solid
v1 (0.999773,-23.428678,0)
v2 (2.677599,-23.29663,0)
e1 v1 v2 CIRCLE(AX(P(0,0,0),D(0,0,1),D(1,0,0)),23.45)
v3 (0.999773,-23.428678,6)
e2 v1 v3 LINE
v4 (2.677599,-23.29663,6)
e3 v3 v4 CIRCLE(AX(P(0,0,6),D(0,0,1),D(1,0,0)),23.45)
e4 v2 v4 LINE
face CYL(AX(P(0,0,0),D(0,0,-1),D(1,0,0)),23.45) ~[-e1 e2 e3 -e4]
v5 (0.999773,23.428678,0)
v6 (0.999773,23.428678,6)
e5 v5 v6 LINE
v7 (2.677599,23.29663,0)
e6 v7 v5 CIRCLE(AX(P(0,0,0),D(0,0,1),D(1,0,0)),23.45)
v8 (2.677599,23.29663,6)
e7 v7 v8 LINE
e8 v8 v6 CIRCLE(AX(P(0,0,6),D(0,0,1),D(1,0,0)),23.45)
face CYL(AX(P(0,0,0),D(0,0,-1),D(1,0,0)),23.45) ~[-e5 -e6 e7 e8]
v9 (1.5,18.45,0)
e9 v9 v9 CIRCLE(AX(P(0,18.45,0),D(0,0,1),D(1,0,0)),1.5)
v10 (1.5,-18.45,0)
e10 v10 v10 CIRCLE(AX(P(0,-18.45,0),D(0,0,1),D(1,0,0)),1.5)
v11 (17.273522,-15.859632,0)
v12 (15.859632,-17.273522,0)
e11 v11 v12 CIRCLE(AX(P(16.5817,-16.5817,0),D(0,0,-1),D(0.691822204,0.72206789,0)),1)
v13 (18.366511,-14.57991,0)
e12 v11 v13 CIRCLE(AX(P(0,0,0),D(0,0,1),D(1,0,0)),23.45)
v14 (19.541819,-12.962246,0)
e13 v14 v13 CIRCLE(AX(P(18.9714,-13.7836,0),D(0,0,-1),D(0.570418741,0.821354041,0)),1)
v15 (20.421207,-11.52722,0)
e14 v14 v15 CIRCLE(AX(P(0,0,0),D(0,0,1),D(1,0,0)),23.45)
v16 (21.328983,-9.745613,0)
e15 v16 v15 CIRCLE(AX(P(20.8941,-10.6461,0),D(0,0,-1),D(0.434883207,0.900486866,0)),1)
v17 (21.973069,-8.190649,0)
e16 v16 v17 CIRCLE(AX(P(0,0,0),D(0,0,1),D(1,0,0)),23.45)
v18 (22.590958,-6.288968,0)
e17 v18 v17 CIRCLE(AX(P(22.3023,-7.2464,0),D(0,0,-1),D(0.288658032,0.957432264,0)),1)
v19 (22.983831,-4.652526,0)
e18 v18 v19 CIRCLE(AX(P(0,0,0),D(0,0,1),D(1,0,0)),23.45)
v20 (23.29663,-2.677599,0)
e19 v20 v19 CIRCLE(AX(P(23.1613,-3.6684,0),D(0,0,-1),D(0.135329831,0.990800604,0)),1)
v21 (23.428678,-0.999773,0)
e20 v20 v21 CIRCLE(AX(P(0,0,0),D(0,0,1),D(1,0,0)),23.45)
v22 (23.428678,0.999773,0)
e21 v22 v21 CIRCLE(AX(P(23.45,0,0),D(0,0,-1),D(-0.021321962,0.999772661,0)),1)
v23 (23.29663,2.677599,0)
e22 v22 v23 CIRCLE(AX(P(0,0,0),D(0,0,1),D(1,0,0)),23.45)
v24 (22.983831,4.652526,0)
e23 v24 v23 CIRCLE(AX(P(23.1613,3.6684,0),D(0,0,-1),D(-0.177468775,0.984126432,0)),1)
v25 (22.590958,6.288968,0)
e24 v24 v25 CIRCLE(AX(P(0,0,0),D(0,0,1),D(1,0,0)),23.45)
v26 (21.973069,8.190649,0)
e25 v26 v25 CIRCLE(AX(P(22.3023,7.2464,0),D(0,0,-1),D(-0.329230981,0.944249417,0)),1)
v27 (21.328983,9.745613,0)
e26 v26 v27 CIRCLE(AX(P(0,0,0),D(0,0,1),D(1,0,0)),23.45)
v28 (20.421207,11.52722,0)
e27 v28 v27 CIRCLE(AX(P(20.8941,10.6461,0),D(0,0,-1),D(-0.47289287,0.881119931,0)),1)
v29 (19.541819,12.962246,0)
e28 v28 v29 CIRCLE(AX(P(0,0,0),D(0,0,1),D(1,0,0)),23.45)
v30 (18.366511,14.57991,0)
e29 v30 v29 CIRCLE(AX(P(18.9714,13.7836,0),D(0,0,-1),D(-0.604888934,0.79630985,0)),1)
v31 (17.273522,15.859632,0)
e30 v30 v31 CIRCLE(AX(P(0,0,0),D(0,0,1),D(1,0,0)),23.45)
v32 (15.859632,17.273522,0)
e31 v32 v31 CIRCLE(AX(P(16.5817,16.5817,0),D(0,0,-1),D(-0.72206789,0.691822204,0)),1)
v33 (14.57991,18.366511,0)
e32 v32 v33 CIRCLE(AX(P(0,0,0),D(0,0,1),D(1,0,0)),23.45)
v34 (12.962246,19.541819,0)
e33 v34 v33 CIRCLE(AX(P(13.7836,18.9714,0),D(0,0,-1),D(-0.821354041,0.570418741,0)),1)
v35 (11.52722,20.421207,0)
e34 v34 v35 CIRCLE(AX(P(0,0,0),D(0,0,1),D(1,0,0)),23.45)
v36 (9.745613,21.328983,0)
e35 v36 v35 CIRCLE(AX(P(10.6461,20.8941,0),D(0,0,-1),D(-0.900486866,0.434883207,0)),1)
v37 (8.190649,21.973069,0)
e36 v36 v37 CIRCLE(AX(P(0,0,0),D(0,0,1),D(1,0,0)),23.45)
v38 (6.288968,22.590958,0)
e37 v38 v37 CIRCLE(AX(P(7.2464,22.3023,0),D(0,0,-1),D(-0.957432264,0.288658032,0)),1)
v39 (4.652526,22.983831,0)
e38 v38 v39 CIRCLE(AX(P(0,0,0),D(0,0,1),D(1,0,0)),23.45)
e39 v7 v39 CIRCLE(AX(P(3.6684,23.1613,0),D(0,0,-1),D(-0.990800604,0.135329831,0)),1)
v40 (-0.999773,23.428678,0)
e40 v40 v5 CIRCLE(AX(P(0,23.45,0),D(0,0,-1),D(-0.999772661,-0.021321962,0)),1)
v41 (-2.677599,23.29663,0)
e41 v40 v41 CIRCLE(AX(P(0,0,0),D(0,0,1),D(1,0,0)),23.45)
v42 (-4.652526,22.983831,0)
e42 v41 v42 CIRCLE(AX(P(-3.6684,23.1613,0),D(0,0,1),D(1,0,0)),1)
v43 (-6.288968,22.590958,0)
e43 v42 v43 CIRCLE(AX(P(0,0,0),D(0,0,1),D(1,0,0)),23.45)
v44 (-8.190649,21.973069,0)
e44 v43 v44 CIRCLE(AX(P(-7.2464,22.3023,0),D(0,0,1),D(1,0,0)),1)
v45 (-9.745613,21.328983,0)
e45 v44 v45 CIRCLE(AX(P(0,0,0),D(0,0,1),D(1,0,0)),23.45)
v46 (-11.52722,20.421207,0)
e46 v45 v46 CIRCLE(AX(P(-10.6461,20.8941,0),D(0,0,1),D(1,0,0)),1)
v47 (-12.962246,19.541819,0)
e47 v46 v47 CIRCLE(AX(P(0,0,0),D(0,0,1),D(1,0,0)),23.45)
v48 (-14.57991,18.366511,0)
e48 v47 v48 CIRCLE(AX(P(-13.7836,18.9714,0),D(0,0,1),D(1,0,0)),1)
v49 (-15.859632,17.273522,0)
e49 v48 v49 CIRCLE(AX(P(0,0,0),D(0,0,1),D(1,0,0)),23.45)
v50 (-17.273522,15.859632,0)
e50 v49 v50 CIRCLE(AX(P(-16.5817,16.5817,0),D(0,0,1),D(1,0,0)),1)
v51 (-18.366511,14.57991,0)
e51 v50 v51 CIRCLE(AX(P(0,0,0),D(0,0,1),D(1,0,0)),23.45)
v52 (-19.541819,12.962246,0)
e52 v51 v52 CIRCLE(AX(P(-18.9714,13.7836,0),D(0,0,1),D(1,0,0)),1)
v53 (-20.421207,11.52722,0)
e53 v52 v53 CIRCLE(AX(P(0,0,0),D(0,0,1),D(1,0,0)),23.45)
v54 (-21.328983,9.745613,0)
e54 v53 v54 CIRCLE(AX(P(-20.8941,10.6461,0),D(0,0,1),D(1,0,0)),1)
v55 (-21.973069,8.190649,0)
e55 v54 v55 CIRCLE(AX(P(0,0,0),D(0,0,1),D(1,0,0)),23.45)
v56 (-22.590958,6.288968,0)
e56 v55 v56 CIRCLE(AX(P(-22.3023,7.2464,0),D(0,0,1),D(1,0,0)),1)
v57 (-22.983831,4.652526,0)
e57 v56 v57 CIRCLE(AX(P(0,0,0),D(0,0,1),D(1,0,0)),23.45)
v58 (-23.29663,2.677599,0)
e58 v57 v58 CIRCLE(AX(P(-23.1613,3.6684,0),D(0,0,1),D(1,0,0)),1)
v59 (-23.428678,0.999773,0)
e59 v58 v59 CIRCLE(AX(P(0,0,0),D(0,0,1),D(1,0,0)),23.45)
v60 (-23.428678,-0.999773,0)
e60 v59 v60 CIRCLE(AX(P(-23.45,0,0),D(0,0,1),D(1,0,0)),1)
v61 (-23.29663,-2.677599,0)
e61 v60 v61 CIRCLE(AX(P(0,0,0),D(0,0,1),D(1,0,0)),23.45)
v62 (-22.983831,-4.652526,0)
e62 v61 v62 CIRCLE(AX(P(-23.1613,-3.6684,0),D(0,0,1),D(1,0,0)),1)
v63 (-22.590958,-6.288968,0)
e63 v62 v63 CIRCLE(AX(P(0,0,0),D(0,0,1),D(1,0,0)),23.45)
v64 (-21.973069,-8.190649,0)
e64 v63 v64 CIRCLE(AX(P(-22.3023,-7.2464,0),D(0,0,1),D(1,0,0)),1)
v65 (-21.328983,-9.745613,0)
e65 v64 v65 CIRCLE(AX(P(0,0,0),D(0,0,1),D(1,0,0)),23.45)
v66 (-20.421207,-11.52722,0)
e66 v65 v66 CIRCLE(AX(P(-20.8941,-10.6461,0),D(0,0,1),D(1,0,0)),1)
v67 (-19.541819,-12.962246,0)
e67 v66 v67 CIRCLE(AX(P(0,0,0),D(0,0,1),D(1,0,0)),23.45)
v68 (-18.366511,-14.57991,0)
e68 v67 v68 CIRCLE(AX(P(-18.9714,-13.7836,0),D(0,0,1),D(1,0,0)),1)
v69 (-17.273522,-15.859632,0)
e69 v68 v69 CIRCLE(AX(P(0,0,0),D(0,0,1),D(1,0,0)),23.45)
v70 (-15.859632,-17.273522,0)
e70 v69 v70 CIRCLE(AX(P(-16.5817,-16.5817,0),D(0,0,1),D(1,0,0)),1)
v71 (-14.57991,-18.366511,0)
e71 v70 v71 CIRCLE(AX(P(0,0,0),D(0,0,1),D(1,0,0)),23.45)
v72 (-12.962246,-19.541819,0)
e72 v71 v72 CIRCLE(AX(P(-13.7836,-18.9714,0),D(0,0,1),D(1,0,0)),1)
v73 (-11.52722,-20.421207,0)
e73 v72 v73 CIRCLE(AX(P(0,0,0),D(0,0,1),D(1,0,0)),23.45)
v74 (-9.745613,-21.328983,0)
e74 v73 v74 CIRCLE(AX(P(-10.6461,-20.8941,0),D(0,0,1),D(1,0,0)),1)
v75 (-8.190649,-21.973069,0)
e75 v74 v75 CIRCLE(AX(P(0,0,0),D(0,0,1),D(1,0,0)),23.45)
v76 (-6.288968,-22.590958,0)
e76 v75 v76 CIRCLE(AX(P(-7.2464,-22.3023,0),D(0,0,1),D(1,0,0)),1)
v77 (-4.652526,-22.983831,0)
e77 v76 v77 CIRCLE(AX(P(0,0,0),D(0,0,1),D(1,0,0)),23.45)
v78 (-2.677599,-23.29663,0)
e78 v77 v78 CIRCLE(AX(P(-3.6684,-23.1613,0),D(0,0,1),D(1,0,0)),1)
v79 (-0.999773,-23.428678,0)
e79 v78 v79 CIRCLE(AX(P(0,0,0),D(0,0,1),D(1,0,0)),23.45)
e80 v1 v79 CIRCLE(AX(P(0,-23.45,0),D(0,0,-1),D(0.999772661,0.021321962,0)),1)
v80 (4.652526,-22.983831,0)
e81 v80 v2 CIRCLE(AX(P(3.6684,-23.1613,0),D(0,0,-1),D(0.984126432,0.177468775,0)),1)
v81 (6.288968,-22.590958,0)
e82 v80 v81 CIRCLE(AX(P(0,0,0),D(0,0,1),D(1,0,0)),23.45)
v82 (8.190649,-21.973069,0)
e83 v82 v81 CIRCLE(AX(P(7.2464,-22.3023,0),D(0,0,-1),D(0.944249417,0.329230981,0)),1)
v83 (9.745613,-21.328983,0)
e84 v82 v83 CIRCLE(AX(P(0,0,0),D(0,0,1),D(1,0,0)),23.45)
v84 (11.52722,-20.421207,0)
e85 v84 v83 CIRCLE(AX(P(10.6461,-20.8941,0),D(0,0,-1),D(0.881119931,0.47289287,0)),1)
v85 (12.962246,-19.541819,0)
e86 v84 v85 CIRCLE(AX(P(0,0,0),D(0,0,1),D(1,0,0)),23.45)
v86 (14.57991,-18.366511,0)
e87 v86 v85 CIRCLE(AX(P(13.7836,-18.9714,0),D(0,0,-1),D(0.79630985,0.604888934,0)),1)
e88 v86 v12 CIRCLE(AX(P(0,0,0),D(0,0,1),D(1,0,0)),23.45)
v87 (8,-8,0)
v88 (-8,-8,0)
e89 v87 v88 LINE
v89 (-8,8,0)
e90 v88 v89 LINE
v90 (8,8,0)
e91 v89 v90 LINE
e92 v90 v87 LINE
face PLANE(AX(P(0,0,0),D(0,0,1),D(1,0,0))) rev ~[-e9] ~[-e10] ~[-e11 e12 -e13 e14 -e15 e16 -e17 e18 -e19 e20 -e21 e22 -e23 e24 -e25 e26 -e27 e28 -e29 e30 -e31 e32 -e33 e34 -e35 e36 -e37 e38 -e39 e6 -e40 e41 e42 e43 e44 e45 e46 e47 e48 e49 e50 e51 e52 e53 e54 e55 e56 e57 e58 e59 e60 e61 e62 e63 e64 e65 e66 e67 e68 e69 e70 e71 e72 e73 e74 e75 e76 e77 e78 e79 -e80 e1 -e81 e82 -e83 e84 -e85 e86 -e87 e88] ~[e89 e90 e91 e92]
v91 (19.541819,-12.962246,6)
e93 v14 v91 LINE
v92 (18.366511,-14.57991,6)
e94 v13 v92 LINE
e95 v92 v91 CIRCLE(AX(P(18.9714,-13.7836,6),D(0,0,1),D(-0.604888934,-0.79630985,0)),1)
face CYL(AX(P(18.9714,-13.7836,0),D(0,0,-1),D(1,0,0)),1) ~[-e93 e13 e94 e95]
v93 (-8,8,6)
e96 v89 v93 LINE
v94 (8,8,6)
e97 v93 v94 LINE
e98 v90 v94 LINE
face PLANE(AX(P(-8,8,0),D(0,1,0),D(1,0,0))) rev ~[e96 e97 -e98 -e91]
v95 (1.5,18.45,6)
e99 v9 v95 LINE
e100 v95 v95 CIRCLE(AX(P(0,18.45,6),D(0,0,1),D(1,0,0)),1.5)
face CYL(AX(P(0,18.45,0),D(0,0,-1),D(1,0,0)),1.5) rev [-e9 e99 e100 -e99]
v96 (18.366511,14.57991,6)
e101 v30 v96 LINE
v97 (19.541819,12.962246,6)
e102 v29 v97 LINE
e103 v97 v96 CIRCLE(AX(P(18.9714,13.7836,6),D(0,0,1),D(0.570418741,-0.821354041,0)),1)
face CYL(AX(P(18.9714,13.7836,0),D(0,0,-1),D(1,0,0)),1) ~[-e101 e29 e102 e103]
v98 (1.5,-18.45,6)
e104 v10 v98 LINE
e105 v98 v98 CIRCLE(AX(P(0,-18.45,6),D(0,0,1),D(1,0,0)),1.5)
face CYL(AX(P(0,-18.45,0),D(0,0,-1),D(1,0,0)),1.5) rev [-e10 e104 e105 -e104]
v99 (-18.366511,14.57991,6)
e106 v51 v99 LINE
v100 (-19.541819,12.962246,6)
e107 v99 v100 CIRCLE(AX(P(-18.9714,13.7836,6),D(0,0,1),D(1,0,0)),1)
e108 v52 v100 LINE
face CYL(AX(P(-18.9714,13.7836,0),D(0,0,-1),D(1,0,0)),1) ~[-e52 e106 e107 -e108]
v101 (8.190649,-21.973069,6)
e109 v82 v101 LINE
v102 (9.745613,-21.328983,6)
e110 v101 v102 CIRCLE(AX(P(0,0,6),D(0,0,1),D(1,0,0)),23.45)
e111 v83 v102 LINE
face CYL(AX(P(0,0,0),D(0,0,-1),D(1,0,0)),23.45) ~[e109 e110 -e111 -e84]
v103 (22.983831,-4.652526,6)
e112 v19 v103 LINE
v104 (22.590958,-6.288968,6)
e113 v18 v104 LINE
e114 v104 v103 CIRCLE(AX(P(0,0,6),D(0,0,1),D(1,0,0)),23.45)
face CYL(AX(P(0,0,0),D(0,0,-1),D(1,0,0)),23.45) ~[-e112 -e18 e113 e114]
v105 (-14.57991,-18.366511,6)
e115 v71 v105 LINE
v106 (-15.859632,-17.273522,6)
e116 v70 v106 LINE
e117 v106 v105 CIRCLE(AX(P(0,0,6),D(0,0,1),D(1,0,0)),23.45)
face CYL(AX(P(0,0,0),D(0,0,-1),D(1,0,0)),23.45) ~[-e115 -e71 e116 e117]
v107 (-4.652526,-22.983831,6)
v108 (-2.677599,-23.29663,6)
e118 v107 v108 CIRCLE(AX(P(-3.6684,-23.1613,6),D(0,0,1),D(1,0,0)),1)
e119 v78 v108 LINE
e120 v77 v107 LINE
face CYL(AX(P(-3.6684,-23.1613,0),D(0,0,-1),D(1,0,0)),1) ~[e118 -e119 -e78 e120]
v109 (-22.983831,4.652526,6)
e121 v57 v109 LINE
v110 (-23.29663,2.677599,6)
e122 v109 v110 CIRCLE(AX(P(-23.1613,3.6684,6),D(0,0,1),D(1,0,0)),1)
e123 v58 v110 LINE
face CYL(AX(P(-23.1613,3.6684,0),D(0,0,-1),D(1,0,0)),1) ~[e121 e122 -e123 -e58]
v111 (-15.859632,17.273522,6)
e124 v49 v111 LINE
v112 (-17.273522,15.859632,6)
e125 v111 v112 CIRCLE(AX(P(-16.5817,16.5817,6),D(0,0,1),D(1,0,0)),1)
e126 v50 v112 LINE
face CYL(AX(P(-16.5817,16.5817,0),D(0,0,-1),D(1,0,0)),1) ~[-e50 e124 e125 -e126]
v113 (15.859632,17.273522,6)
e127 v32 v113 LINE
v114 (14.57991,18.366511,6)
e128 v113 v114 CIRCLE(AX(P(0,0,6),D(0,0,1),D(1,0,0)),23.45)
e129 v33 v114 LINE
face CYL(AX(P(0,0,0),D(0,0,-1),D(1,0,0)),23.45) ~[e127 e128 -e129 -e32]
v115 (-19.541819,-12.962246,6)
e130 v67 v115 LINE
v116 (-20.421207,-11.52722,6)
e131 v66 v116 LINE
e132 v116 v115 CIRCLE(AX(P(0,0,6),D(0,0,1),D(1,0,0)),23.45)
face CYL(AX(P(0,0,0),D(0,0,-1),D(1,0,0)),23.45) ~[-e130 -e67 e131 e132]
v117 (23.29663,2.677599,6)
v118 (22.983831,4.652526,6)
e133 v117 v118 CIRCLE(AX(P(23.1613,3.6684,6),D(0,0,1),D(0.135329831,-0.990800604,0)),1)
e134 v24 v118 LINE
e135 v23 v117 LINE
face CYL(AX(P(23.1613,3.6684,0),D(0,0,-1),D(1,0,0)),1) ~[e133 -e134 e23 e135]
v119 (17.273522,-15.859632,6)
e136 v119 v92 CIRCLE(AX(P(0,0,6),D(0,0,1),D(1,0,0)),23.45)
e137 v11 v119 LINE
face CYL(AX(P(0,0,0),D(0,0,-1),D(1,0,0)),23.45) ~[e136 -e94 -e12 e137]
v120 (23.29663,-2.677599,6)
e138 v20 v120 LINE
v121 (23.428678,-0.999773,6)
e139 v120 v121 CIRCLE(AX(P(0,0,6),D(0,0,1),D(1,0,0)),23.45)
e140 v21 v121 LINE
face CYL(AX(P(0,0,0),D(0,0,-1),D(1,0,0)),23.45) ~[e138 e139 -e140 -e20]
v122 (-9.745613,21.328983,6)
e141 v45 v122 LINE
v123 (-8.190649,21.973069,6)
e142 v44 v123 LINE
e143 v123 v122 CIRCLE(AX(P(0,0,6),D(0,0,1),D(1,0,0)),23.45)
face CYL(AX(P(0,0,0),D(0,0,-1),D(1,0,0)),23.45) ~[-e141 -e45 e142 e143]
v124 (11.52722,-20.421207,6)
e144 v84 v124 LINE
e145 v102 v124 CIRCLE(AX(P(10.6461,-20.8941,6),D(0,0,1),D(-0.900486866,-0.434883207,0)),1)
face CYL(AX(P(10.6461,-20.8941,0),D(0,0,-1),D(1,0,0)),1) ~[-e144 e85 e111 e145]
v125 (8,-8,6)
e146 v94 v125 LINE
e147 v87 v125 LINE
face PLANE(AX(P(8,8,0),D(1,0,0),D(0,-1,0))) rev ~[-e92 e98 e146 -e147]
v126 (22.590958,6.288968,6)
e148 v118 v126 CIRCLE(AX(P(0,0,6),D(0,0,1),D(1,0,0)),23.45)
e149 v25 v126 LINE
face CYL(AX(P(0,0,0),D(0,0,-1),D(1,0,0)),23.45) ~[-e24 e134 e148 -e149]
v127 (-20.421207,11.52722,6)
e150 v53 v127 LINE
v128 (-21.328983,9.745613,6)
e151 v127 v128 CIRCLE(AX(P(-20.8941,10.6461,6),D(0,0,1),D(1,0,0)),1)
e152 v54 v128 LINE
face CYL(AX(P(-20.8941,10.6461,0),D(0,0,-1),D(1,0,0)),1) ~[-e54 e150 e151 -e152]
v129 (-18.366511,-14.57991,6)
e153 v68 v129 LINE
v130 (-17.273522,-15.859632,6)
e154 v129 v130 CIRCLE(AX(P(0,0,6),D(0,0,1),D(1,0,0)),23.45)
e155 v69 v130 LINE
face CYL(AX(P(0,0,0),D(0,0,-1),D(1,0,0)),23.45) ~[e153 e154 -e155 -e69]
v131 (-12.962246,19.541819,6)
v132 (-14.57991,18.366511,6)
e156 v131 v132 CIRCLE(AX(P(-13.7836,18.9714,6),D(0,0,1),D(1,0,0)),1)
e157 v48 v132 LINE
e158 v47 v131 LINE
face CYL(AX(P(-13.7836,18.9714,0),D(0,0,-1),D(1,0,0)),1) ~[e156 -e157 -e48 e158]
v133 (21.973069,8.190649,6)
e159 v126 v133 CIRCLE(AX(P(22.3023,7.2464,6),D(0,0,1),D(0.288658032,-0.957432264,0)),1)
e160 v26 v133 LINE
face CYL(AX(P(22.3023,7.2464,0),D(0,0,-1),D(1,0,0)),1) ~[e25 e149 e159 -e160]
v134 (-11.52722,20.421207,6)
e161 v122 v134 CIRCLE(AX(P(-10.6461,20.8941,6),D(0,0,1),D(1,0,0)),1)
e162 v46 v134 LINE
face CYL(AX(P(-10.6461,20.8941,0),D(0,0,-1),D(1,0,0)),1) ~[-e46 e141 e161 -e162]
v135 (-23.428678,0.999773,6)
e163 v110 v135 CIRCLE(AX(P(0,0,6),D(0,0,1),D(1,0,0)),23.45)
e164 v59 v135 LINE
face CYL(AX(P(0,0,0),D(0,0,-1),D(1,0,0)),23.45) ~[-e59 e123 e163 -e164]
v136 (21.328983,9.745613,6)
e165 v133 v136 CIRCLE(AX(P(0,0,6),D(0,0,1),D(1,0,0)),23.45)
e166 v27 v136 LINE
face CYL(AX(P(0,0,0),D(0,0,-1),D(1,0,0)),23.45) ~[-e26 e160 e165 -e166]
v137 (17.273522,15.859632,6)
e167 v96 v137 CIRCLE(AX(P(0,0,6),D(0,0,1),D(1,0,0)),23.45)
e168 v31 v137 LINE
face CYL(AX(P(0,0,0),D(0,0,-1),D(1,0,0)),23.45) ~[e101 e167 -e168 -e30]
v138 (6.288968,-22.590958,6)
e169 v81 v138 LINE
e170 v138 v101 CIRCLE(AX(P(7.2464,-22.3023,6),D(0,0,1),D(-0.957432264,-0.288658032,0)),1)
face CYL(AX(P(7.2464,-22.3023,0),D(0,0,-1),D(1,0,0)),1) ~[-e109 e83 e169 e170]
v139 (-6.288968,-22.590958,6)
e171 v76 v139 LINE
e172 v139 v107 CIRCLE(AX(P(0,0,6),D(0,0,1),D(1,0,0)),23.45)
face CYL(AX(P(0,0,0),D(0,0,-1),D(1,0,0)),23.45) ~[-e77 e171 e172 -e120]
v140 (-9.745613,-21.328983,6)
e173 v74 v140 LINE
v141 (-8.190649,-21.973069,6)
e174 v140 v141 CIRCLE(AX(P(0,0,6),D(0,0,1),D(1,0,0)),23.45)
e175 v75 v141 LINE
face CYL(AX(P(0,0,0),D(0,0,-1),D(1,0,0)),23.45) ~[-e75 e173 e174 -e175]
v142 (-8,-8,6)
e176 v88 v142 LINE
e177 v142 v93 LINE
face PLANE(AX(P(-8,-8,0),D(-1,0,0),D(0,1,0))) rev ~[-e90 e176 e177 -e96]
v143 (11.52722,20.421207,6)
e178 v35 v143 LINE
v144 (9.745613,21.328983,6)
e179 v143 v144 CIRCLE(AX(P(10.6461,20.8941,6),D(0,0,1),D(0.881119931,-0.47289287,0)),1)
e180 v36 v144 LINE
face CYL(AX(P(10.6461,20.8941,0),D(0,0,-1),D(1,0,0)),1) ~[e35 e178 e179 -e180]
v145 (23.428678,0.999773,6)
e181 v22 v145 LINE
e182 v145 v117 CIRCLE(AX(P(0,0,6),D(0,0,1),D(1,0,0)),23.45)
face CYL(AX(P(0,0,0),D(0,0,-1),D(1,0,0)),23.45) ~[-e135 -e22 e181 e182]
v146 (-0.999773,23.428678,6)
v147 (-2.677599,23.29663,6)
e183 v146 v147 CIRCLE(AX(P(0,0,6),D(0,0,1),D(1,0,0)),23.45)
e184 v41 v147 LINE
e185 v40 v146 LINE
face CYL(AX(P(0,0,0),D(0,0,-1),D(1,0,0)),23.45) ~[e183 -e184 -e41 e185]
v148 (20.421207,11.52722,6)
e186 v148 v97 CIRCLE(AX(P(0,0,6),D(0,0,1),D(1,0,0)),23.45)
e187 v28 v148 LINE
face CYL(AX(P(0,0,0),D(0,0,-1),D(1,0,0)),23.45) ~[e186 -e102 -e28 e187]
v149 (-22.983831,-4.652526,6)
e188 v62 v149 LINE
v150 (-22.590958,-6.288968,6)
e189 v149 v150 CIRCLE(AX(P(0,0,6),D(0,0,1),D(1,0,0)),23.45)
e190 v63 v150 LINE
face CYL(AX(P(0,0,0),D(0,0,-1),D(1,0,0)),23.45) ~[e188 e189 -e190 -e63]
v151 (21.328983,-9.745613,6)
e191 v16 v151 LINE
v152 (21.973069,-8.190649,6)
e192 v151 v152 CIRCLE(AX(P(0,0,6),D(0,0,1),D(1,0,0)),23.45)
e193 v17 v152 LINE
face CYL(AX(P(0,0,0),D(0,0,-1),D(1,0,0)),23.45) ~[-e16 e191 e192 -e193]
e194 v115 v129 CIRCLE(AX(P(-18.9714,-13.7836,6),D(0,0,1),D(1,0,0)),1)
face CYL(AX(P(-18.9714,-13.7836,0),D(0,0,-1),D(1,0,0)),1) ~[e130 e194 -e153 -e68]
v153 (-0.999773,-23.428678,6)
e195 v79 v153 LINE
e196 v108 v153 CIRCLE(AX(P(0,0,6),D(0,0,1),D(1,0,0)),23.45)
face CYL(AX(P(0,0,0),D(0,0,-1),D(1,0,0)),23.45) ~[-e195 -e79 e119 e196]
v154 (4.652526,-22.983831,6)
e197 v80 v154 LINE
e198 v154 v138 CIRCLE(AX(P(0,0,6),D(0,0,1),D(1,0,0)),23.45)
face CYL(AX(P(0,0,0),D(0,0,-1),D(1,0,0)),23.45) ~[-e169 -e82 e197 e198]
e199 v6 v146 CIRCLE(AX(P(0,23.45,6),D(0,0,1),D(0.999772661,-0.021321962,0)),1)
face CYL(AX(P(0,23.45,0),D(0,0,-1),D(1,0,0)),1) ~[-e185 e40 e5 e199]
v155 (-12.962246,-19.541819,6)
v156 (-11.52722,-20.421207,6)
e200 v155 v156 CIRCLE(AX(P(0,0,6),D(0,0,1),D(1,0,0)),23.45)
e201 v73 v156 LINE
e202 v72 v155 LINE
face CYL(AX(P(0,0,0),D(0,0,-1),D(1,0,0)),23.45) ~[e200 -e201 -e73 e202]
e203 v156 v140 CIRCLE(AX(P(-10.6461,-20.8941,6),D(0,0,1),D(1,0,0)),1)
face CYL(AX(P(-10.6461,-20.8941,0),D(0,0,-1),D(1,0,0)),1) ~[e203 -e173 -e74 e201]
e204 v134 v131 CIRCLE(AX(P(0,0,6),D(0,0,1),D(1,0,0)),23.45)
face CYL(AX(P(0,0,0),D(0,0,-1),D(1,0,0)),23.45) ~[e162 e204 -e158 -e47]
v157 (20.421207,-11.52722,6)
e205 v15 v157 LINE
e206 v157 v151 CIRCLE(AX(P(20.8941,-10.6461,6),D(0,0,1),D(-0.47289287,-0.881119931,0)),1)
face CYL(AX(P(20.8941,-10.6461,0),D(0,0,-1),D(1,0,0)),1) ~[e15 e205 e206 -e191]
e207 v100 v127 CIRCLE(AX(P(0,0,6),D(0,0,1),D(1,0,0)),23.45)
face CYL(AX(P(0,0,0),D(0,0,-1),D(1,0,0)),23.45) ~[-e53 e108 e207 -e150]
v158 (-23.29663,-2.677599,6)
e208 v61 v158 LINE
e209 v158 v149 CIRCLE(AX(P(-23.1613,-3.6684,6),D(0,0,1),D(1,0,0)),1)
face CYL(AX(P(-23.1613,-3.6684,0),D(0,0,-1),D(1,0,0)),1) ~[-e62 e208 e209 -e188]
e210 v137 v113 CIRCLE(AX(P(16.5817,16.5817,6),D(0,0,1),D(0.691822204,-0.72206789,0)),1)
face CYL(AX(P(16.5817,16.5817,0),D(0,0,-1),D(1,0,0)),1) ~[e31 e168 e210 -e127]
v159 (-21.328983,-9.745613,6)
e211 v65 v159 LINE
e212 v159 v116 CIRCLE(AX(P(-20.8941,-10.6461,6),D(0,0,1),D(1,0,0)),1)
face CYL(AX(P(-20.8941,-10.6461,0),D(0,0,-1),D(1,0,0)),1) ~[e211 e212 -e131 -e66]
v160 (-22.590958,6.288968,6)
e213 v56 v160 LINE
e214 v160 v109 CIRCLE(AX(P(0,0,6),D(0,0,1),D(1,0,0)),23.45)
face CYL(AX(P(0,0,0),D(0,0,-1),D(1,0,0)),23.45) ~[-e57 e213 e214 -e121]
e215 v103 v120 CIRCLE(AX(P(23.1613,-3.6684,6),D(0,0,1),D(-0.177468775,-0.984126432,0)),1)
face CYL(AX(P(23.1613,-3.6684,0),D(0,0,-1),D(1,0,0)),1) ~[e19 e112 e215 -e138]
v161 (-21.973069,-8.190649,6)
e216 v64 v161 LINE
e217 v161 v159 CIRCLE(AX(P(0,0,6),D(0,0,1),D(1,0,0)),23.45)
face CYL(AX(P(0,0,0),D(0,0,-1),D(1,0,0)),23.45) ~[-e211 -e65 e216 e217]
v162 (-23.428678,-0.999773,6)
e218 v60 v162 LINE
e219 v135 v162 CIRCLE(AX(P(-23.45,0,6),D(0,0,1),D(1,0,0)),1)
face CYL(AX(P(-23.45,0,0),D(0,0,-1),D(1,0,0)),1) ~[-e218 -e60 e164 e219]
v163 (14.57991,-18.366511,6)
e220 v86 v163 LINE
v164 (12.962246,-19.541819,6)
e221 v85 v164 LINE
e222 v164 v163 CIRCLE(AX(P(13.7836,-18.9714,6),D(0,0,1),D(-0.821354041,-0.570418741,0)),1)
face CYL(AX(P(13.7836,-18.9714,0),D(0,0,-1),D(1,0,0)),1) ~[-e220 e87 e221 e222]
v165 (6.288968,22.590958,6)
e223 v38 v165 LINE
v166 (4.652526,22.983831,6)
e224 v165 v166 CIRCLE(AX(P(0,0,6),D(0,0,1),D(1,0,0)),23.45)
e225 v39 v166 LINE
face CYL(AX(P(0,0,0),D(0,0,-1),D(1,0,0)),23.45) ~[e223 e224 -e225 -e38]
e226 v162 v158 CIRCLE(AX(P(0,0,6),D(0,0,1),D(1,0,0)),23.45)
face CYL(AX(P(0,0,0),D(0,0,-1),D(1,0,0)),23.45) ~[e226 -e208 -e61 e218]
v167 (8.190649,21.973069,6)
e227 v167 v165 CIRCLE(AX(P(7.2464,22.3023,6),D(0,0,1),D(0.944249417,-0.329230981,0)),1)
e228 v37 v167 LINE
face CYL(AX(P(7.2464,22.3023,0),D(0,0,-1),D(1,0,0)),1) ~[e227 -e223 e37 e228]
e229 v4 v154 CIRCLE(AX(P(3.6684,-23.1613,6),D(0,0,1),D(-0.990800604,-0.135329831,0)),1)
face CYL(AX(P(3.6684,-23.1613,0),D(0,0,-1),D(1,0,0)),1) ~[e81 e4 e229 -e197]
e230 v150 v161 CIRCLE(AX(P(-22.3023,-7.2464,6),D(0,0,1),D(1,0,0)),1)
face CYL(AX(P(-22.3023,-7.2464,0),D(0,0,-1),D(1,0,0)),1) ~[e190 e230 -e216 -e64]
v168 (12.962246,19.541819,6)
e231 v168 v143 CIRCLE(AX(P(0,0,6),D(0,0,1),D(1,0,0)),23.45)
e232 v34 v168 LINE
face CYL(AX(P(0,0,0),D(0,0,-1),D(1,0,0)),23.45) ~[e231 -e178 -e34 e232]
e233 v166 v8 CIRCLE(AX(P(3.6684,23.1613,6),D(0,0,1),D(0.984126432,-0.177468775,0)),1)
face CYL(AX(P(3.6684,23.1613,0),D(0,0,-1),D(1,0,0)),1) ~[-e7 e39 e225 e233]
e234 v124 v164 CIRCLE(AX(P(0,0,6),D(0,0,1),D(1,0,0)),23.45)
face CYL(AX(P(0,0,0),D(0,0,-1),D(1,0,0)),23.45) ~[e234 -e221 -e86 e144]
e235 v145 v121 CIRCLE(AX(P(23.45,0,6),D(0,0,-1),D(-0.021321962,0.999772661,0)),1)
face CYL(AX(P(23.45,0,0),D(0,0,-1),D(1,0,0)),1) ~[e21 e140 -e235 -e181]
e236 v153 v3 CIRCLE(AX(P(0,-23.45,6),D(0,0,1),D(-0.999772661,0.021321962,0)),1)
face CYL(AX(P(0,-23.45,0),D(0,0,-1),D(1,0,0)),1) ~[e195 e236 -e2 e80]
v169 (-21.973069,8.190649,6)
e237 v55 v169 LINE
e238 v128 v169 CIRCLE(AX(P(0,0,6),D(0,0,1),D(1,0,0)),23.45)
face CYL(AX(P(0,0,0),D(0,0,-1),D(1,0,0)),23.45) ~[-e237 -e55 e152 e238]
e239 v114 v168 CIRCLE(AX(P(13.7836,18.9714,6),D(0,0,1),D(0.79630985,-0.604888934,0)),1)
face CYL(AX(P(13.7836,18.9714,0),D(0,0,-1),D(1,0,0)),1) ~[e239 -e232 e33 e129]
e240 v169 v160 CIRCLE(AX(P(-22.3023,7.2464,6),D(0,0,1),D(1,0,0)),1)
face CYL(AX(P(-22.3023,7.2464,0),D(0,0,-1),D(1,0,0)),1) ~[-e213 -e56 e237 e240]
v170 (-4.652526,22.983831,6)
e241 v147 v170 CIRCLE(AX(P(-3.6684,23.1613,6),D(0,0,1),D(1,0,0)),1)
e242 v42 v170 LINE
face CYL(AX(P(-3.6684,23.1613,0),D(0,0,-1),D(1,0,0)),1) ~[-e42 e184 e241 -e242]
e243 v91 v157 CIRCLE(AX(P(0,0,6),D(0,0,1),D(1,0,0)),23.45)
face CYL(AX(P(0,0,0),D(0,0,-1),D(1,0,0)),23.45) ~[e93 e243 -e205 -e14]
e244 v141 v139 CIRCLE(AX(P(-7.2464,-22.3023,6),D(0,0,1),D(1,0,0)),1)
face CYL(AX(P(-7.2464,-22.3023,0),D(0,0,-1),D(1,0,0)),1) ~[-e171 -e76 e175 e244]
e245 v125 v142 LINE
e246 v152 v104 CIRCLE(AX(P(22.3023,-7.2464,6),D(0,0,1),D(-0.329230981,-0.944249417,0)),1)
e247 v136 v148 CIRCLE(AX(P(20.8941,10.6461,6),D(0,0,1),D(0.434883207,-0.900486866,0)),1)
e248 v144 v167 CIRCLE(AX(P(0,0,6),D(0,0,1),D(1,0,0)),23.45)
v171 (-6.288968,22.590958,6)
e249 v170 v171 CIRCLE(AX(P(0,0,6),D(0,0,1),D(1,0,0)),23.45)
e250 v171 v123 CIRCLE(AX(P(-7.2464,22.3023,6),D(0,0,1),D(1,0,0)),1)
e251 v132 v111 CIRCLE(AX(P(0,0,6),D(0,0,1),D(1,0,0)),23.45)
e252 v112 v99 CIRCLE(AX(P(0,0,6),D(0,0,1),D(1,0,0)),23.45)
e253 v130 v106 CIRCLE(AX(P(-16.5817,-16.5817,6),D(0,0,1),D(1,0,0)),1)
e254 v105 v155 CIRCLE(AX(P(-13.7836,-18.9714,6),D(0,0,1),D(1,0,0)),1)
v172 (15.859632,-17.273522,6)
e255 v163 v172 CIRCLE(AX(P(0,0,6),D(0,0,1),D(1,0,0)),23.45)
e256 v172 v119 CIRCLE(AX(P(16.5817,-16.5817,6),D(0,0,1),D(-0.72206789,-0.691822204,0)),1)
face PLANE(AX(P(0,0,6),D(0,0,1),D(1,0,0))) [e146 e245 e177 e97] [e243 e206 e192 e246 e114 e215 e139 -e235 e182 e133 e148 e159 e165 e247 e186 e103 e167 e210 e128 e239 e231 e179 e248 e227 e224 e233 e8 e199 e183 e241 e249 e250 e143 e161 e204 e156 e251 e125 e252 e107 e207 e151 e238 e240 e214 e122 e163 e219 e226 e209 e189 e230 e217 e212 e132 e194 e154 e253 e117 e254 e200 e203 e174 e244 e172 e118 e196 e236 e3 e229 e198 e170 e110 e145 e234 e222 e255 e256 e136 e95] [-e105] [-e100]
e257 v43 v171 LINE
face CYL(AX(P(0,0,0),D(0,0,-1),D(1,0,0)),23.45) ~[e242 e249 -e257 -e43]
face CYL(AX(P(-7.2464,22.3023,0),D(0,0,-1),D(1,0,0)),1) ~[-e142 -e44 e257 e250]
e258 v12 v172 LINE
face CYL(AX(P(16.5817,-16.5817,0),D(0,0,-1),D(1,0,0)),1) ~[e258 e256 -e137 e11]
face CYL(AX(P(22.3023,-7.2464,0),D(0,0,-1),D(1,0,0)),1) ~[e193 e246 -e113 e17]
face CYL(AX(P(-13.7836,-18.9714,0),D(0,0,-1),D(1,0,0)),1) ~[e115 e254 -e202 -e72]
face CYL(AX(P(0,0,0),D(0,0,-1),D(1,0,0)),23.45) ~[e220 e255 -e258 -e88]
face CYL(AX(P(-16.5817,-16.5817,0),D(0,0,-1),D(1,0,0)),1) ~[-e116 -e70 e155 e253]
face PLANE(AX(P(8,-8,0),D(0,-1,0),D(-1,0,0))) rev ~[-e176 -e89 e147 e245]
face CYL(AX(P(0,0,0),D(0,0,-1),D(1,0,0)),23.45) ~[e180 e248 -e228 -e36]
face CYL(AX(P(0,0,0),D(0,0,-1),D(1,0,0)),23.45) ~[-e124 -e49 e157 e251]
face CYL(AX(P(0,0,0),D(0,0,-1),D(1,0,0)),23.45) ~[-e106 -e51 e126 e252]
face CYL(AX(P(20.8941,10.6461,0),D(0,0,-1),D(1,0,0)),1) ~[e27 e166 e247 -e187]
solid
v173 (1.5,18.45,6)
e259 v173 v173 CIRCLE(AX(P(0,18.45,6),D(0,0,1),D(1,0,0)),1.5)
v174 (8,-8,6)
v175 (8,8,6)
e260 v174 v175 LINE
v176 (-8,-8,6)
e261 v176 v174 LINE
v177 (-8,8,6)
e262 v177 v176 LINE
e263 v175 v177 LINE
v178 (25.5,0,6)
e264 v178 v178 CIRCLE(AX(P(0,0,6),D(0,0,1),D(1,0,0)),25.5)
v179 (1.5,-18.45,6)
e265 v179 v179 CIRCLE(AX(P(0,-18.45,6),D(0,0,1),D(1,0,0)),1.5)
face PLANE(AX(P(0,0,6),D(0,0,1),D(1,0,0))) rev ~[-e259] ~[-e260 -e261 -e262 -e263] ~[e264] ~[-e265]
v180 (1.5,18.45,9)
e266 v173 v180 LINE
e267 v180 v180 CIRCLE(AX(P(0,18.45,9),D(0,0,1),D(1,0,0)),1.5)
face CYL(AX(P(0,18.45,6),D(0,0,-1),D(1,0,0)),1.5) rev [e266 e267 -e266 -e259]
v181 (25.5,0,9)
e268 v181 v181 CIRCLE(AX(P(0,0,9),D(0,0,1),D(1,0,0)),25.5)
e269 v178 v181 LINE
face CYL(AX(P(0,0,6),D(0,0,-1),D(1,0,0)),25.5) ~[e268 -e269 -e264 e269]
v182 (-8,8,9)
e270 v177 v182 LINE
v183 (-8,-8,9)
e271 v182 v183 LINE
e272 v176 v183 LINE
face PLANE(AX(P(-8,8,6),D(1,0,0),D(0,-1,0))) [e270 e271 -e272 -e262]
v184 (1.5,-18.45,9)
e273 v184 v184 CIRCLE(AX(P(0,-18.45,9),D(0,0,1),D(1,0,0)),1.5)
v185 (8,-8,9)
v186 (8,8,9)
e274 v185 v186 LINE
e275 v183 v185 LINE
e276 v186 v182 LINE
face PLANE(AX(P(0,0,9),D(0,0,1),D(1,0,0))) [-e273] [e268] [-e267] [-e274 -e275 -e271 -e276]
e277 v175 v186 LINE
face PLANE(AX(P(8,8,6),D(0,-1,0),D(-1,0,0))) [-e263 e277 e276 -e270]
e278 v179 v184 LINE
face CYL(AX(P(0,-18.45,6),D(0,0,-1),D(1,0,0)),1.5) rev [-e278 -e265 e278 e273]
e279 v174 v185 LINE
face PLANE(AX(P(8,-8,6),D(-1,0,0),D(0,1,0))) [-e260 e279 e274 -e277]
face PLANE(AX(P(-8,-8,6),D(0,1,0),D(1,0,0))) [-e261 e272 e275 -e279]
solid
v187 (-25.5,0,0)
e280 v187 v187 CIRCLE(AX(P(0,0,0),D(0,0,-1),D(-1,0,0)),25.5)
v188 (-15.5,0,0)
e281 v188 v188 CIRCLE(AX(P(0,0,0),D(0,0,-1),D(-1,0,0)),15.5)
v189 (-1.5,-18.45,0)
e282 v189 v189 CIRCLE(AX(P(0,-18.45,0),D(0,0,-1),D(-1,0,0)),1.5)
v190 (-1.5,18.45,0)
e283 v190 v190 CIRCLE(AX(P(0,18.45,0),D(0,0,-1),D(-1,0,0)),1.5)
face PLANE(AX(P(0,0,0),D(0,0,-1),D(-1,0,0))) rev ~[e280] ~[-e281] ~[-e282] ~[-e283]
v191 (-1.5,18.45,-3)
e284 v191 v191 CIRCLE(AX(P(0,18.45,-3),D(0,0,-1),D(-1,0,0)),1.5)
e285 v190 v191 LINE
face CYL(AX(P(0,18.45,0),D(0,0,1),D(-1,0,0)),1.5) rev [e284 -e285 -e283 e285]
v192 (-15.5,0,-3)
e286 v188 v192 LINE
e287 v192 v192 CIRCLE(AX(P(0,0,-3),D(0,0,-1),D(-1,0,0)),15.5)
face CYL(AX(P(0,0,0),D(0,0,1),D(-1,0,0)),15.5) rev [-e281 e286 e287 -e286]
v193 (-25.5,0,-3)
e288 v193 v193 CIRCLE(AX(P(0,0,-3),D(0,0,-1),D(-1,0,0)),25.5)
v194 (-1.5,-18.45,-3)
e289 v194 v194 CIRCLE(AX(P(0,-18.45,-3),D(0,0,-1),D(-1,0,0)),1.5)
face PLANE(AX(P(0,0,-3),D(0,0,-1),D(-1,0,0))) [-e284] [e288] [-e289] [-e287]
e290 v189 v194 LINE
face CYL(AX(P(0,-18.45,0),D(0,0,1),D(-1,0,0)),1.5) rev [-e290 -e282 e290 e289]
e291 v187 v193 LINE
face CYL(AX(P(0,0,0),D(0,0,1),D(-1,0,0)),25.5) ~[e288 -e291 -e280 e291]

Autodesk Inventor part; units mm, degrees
ref_plane "YZ Plane" through (0, 0, 0) normal (1, 0, 0) x (0, 1, 0)
ref_plane "XZ Plane" through (0, 0, 0) normal (0, 1, 0) x (-1, 0, 0)
ref_plane "XY Plane" through (0, 0, 0) normal (0, 0, 1) x (1, 0, 0)
sketch "Boceto1" plane through (0, 0, 0) normal (0, 0, 1) x (1, 0, 0)
  line L0 (8, -8) -> (-8, -8) projected
  line L1 (-8, -8) -> (-8, 8) projected
  line L2 (-8, 8) -> (8, 8) projected
  line L3 (8, 8) -> (8, -8) projected
  circle A0 centre (0, 0) radius 15 construction
  circle A1 centre (0, 0) radius 23.45
  circle A2 centre (0, 0) radius 18.45 construction
  circle A3 centre (0, 18.45) radius 1.5
  circle A4 centre (0, -18.45) radius 1.5
  circle A5 centre (0, 23.45) radius 1
  circle A6 centre (-3.6684, 23.1613) radius 1
  circle A7 centre (-7.2464, 22.3023) radius 1
  circle A8 centre (-10.6461, 20.8941) radius 1
  circle A9 centre (-13.7836, 18.9714) radius 1
  circle A10 centre (-16.5817, 16.5817) radius 1
  circle A11 centre (-18.9714, 13.7836) radius 1
  circle A12 centre (-20.8941, 10.6461) radius 1
  circle A13 centre (-22.3023, 7.2464) radius 1
  circle A14 centre (-23.1613, 3.6684) radius 1
  circle A15 centre (-23.45, 0) radius 1
  circle A16 centre (-23.1613, -3.6684) radius 1
  circle A17 centre (-22.3023, -7.2464) radius 1
  circle A18 centre (-20.8941, -10.6461) radius 1
  circle A19 centre (-18.9714, -13.7836) radius 1
  circle A20 centre (-16.5817, -16.5817) radius 1
  circle A21 centre (-13.7836, -18.9714) radius 1
  circle A22 centre (-10.6461, -20.8941) radius 1
  circle A23 centre (-7.2464, -22.3023) radius 1
  circle A24 centre (-3.6684, -23.1613) radius 1
  circle A25 centre (0, -23.45) radius 1
  circle A26 centre (3.6684, -23.1613) radius 1
  circle A27 centre (7.2464, -22.3023) radius 1
  circle A28 centre (10.6461, -20.8941) radius 1
  circle A29 centre (13.7836, -18.9714) radius 1
  circle A30 centre (16.5817, -16.5817) radius 1
  circle A31 centre (18.9714, -13.7836) radius 1
  circle A32 centre (20.8941, -10.6461) radius 1
  circle A33 centre (22.3023, -7.2464) radius 1
  circle A34 centre (23.1613, -3.6684) radius 1
  circle A35 centre (23.45, 0) radius 1
  circle A36 centre (23.1613, 3.6684) radius 1
  circle A37 centre (22.3023, 7.2464) radius 1
  circle A38 centre (20.8941, 10.6461) radius 1
  circle A39 centre (18.9714, 13.7836) radius 1
  circle A40 centre (16.5817, 16.5817) radius 1
  circle A41 centre (13.7836, 18.9714) radius 1
  circle A42 centre (10.6461, 20.8941) radius 1
  circle A43 centre (7.2464, 22.3023) radius 1
  circle A44 centre (3.6684, 23.1613) radius 1
  dimension "d0" = 46.9
  dimension "d4" = 5
  dimension "d3" = 3
  dimension "d7" = 360
  dimension "d16" = 2
  dimension "d19" = 360
extrude "Extrusión1" add sketch "Boceto1" along normal blind 6
sketch "Boceto2" plane through (0, 0, 0) normal (0, 0, -1) x (-1, 0, 0)
  circle A0 centre (0, 0) radius 25.5
  circle A1 centre (0, 0) radius 15.5
  circle A2 centre (0, 18.45) radius 1.5 projected
  circle A3 centre (0, -18.45) radius 1.5 projected
  dimension "d9" = 31
  dimension "d21" = 51
extrude "Extrusión2" add sketch "Boceto2" along normal blind 3 separate body
sketch "Boceto3" plane through (0, 0, 6) normal (0, 0, 1) x (1, 0, 0)
  circle A0 centre (0, 0) radius 25.5 projected
  circle A1 centre (0, 18.45) radius 1.5 projected
  circle A2 centre (0, -18.45) radius 1.5 projected
  line L0 (8, 8) -> (-8, 8) projected
  line L1 (8, -8) -> (8, 8) projected
  line L2 (-8, -8) -> (8, -8) projected
  line L3 (-8, 8) -> (-8, -8) projected
extrude "Extrusión3" add sketch "Boceto3" along normal blind 3 separate body
properties part number "polea pequeña"
